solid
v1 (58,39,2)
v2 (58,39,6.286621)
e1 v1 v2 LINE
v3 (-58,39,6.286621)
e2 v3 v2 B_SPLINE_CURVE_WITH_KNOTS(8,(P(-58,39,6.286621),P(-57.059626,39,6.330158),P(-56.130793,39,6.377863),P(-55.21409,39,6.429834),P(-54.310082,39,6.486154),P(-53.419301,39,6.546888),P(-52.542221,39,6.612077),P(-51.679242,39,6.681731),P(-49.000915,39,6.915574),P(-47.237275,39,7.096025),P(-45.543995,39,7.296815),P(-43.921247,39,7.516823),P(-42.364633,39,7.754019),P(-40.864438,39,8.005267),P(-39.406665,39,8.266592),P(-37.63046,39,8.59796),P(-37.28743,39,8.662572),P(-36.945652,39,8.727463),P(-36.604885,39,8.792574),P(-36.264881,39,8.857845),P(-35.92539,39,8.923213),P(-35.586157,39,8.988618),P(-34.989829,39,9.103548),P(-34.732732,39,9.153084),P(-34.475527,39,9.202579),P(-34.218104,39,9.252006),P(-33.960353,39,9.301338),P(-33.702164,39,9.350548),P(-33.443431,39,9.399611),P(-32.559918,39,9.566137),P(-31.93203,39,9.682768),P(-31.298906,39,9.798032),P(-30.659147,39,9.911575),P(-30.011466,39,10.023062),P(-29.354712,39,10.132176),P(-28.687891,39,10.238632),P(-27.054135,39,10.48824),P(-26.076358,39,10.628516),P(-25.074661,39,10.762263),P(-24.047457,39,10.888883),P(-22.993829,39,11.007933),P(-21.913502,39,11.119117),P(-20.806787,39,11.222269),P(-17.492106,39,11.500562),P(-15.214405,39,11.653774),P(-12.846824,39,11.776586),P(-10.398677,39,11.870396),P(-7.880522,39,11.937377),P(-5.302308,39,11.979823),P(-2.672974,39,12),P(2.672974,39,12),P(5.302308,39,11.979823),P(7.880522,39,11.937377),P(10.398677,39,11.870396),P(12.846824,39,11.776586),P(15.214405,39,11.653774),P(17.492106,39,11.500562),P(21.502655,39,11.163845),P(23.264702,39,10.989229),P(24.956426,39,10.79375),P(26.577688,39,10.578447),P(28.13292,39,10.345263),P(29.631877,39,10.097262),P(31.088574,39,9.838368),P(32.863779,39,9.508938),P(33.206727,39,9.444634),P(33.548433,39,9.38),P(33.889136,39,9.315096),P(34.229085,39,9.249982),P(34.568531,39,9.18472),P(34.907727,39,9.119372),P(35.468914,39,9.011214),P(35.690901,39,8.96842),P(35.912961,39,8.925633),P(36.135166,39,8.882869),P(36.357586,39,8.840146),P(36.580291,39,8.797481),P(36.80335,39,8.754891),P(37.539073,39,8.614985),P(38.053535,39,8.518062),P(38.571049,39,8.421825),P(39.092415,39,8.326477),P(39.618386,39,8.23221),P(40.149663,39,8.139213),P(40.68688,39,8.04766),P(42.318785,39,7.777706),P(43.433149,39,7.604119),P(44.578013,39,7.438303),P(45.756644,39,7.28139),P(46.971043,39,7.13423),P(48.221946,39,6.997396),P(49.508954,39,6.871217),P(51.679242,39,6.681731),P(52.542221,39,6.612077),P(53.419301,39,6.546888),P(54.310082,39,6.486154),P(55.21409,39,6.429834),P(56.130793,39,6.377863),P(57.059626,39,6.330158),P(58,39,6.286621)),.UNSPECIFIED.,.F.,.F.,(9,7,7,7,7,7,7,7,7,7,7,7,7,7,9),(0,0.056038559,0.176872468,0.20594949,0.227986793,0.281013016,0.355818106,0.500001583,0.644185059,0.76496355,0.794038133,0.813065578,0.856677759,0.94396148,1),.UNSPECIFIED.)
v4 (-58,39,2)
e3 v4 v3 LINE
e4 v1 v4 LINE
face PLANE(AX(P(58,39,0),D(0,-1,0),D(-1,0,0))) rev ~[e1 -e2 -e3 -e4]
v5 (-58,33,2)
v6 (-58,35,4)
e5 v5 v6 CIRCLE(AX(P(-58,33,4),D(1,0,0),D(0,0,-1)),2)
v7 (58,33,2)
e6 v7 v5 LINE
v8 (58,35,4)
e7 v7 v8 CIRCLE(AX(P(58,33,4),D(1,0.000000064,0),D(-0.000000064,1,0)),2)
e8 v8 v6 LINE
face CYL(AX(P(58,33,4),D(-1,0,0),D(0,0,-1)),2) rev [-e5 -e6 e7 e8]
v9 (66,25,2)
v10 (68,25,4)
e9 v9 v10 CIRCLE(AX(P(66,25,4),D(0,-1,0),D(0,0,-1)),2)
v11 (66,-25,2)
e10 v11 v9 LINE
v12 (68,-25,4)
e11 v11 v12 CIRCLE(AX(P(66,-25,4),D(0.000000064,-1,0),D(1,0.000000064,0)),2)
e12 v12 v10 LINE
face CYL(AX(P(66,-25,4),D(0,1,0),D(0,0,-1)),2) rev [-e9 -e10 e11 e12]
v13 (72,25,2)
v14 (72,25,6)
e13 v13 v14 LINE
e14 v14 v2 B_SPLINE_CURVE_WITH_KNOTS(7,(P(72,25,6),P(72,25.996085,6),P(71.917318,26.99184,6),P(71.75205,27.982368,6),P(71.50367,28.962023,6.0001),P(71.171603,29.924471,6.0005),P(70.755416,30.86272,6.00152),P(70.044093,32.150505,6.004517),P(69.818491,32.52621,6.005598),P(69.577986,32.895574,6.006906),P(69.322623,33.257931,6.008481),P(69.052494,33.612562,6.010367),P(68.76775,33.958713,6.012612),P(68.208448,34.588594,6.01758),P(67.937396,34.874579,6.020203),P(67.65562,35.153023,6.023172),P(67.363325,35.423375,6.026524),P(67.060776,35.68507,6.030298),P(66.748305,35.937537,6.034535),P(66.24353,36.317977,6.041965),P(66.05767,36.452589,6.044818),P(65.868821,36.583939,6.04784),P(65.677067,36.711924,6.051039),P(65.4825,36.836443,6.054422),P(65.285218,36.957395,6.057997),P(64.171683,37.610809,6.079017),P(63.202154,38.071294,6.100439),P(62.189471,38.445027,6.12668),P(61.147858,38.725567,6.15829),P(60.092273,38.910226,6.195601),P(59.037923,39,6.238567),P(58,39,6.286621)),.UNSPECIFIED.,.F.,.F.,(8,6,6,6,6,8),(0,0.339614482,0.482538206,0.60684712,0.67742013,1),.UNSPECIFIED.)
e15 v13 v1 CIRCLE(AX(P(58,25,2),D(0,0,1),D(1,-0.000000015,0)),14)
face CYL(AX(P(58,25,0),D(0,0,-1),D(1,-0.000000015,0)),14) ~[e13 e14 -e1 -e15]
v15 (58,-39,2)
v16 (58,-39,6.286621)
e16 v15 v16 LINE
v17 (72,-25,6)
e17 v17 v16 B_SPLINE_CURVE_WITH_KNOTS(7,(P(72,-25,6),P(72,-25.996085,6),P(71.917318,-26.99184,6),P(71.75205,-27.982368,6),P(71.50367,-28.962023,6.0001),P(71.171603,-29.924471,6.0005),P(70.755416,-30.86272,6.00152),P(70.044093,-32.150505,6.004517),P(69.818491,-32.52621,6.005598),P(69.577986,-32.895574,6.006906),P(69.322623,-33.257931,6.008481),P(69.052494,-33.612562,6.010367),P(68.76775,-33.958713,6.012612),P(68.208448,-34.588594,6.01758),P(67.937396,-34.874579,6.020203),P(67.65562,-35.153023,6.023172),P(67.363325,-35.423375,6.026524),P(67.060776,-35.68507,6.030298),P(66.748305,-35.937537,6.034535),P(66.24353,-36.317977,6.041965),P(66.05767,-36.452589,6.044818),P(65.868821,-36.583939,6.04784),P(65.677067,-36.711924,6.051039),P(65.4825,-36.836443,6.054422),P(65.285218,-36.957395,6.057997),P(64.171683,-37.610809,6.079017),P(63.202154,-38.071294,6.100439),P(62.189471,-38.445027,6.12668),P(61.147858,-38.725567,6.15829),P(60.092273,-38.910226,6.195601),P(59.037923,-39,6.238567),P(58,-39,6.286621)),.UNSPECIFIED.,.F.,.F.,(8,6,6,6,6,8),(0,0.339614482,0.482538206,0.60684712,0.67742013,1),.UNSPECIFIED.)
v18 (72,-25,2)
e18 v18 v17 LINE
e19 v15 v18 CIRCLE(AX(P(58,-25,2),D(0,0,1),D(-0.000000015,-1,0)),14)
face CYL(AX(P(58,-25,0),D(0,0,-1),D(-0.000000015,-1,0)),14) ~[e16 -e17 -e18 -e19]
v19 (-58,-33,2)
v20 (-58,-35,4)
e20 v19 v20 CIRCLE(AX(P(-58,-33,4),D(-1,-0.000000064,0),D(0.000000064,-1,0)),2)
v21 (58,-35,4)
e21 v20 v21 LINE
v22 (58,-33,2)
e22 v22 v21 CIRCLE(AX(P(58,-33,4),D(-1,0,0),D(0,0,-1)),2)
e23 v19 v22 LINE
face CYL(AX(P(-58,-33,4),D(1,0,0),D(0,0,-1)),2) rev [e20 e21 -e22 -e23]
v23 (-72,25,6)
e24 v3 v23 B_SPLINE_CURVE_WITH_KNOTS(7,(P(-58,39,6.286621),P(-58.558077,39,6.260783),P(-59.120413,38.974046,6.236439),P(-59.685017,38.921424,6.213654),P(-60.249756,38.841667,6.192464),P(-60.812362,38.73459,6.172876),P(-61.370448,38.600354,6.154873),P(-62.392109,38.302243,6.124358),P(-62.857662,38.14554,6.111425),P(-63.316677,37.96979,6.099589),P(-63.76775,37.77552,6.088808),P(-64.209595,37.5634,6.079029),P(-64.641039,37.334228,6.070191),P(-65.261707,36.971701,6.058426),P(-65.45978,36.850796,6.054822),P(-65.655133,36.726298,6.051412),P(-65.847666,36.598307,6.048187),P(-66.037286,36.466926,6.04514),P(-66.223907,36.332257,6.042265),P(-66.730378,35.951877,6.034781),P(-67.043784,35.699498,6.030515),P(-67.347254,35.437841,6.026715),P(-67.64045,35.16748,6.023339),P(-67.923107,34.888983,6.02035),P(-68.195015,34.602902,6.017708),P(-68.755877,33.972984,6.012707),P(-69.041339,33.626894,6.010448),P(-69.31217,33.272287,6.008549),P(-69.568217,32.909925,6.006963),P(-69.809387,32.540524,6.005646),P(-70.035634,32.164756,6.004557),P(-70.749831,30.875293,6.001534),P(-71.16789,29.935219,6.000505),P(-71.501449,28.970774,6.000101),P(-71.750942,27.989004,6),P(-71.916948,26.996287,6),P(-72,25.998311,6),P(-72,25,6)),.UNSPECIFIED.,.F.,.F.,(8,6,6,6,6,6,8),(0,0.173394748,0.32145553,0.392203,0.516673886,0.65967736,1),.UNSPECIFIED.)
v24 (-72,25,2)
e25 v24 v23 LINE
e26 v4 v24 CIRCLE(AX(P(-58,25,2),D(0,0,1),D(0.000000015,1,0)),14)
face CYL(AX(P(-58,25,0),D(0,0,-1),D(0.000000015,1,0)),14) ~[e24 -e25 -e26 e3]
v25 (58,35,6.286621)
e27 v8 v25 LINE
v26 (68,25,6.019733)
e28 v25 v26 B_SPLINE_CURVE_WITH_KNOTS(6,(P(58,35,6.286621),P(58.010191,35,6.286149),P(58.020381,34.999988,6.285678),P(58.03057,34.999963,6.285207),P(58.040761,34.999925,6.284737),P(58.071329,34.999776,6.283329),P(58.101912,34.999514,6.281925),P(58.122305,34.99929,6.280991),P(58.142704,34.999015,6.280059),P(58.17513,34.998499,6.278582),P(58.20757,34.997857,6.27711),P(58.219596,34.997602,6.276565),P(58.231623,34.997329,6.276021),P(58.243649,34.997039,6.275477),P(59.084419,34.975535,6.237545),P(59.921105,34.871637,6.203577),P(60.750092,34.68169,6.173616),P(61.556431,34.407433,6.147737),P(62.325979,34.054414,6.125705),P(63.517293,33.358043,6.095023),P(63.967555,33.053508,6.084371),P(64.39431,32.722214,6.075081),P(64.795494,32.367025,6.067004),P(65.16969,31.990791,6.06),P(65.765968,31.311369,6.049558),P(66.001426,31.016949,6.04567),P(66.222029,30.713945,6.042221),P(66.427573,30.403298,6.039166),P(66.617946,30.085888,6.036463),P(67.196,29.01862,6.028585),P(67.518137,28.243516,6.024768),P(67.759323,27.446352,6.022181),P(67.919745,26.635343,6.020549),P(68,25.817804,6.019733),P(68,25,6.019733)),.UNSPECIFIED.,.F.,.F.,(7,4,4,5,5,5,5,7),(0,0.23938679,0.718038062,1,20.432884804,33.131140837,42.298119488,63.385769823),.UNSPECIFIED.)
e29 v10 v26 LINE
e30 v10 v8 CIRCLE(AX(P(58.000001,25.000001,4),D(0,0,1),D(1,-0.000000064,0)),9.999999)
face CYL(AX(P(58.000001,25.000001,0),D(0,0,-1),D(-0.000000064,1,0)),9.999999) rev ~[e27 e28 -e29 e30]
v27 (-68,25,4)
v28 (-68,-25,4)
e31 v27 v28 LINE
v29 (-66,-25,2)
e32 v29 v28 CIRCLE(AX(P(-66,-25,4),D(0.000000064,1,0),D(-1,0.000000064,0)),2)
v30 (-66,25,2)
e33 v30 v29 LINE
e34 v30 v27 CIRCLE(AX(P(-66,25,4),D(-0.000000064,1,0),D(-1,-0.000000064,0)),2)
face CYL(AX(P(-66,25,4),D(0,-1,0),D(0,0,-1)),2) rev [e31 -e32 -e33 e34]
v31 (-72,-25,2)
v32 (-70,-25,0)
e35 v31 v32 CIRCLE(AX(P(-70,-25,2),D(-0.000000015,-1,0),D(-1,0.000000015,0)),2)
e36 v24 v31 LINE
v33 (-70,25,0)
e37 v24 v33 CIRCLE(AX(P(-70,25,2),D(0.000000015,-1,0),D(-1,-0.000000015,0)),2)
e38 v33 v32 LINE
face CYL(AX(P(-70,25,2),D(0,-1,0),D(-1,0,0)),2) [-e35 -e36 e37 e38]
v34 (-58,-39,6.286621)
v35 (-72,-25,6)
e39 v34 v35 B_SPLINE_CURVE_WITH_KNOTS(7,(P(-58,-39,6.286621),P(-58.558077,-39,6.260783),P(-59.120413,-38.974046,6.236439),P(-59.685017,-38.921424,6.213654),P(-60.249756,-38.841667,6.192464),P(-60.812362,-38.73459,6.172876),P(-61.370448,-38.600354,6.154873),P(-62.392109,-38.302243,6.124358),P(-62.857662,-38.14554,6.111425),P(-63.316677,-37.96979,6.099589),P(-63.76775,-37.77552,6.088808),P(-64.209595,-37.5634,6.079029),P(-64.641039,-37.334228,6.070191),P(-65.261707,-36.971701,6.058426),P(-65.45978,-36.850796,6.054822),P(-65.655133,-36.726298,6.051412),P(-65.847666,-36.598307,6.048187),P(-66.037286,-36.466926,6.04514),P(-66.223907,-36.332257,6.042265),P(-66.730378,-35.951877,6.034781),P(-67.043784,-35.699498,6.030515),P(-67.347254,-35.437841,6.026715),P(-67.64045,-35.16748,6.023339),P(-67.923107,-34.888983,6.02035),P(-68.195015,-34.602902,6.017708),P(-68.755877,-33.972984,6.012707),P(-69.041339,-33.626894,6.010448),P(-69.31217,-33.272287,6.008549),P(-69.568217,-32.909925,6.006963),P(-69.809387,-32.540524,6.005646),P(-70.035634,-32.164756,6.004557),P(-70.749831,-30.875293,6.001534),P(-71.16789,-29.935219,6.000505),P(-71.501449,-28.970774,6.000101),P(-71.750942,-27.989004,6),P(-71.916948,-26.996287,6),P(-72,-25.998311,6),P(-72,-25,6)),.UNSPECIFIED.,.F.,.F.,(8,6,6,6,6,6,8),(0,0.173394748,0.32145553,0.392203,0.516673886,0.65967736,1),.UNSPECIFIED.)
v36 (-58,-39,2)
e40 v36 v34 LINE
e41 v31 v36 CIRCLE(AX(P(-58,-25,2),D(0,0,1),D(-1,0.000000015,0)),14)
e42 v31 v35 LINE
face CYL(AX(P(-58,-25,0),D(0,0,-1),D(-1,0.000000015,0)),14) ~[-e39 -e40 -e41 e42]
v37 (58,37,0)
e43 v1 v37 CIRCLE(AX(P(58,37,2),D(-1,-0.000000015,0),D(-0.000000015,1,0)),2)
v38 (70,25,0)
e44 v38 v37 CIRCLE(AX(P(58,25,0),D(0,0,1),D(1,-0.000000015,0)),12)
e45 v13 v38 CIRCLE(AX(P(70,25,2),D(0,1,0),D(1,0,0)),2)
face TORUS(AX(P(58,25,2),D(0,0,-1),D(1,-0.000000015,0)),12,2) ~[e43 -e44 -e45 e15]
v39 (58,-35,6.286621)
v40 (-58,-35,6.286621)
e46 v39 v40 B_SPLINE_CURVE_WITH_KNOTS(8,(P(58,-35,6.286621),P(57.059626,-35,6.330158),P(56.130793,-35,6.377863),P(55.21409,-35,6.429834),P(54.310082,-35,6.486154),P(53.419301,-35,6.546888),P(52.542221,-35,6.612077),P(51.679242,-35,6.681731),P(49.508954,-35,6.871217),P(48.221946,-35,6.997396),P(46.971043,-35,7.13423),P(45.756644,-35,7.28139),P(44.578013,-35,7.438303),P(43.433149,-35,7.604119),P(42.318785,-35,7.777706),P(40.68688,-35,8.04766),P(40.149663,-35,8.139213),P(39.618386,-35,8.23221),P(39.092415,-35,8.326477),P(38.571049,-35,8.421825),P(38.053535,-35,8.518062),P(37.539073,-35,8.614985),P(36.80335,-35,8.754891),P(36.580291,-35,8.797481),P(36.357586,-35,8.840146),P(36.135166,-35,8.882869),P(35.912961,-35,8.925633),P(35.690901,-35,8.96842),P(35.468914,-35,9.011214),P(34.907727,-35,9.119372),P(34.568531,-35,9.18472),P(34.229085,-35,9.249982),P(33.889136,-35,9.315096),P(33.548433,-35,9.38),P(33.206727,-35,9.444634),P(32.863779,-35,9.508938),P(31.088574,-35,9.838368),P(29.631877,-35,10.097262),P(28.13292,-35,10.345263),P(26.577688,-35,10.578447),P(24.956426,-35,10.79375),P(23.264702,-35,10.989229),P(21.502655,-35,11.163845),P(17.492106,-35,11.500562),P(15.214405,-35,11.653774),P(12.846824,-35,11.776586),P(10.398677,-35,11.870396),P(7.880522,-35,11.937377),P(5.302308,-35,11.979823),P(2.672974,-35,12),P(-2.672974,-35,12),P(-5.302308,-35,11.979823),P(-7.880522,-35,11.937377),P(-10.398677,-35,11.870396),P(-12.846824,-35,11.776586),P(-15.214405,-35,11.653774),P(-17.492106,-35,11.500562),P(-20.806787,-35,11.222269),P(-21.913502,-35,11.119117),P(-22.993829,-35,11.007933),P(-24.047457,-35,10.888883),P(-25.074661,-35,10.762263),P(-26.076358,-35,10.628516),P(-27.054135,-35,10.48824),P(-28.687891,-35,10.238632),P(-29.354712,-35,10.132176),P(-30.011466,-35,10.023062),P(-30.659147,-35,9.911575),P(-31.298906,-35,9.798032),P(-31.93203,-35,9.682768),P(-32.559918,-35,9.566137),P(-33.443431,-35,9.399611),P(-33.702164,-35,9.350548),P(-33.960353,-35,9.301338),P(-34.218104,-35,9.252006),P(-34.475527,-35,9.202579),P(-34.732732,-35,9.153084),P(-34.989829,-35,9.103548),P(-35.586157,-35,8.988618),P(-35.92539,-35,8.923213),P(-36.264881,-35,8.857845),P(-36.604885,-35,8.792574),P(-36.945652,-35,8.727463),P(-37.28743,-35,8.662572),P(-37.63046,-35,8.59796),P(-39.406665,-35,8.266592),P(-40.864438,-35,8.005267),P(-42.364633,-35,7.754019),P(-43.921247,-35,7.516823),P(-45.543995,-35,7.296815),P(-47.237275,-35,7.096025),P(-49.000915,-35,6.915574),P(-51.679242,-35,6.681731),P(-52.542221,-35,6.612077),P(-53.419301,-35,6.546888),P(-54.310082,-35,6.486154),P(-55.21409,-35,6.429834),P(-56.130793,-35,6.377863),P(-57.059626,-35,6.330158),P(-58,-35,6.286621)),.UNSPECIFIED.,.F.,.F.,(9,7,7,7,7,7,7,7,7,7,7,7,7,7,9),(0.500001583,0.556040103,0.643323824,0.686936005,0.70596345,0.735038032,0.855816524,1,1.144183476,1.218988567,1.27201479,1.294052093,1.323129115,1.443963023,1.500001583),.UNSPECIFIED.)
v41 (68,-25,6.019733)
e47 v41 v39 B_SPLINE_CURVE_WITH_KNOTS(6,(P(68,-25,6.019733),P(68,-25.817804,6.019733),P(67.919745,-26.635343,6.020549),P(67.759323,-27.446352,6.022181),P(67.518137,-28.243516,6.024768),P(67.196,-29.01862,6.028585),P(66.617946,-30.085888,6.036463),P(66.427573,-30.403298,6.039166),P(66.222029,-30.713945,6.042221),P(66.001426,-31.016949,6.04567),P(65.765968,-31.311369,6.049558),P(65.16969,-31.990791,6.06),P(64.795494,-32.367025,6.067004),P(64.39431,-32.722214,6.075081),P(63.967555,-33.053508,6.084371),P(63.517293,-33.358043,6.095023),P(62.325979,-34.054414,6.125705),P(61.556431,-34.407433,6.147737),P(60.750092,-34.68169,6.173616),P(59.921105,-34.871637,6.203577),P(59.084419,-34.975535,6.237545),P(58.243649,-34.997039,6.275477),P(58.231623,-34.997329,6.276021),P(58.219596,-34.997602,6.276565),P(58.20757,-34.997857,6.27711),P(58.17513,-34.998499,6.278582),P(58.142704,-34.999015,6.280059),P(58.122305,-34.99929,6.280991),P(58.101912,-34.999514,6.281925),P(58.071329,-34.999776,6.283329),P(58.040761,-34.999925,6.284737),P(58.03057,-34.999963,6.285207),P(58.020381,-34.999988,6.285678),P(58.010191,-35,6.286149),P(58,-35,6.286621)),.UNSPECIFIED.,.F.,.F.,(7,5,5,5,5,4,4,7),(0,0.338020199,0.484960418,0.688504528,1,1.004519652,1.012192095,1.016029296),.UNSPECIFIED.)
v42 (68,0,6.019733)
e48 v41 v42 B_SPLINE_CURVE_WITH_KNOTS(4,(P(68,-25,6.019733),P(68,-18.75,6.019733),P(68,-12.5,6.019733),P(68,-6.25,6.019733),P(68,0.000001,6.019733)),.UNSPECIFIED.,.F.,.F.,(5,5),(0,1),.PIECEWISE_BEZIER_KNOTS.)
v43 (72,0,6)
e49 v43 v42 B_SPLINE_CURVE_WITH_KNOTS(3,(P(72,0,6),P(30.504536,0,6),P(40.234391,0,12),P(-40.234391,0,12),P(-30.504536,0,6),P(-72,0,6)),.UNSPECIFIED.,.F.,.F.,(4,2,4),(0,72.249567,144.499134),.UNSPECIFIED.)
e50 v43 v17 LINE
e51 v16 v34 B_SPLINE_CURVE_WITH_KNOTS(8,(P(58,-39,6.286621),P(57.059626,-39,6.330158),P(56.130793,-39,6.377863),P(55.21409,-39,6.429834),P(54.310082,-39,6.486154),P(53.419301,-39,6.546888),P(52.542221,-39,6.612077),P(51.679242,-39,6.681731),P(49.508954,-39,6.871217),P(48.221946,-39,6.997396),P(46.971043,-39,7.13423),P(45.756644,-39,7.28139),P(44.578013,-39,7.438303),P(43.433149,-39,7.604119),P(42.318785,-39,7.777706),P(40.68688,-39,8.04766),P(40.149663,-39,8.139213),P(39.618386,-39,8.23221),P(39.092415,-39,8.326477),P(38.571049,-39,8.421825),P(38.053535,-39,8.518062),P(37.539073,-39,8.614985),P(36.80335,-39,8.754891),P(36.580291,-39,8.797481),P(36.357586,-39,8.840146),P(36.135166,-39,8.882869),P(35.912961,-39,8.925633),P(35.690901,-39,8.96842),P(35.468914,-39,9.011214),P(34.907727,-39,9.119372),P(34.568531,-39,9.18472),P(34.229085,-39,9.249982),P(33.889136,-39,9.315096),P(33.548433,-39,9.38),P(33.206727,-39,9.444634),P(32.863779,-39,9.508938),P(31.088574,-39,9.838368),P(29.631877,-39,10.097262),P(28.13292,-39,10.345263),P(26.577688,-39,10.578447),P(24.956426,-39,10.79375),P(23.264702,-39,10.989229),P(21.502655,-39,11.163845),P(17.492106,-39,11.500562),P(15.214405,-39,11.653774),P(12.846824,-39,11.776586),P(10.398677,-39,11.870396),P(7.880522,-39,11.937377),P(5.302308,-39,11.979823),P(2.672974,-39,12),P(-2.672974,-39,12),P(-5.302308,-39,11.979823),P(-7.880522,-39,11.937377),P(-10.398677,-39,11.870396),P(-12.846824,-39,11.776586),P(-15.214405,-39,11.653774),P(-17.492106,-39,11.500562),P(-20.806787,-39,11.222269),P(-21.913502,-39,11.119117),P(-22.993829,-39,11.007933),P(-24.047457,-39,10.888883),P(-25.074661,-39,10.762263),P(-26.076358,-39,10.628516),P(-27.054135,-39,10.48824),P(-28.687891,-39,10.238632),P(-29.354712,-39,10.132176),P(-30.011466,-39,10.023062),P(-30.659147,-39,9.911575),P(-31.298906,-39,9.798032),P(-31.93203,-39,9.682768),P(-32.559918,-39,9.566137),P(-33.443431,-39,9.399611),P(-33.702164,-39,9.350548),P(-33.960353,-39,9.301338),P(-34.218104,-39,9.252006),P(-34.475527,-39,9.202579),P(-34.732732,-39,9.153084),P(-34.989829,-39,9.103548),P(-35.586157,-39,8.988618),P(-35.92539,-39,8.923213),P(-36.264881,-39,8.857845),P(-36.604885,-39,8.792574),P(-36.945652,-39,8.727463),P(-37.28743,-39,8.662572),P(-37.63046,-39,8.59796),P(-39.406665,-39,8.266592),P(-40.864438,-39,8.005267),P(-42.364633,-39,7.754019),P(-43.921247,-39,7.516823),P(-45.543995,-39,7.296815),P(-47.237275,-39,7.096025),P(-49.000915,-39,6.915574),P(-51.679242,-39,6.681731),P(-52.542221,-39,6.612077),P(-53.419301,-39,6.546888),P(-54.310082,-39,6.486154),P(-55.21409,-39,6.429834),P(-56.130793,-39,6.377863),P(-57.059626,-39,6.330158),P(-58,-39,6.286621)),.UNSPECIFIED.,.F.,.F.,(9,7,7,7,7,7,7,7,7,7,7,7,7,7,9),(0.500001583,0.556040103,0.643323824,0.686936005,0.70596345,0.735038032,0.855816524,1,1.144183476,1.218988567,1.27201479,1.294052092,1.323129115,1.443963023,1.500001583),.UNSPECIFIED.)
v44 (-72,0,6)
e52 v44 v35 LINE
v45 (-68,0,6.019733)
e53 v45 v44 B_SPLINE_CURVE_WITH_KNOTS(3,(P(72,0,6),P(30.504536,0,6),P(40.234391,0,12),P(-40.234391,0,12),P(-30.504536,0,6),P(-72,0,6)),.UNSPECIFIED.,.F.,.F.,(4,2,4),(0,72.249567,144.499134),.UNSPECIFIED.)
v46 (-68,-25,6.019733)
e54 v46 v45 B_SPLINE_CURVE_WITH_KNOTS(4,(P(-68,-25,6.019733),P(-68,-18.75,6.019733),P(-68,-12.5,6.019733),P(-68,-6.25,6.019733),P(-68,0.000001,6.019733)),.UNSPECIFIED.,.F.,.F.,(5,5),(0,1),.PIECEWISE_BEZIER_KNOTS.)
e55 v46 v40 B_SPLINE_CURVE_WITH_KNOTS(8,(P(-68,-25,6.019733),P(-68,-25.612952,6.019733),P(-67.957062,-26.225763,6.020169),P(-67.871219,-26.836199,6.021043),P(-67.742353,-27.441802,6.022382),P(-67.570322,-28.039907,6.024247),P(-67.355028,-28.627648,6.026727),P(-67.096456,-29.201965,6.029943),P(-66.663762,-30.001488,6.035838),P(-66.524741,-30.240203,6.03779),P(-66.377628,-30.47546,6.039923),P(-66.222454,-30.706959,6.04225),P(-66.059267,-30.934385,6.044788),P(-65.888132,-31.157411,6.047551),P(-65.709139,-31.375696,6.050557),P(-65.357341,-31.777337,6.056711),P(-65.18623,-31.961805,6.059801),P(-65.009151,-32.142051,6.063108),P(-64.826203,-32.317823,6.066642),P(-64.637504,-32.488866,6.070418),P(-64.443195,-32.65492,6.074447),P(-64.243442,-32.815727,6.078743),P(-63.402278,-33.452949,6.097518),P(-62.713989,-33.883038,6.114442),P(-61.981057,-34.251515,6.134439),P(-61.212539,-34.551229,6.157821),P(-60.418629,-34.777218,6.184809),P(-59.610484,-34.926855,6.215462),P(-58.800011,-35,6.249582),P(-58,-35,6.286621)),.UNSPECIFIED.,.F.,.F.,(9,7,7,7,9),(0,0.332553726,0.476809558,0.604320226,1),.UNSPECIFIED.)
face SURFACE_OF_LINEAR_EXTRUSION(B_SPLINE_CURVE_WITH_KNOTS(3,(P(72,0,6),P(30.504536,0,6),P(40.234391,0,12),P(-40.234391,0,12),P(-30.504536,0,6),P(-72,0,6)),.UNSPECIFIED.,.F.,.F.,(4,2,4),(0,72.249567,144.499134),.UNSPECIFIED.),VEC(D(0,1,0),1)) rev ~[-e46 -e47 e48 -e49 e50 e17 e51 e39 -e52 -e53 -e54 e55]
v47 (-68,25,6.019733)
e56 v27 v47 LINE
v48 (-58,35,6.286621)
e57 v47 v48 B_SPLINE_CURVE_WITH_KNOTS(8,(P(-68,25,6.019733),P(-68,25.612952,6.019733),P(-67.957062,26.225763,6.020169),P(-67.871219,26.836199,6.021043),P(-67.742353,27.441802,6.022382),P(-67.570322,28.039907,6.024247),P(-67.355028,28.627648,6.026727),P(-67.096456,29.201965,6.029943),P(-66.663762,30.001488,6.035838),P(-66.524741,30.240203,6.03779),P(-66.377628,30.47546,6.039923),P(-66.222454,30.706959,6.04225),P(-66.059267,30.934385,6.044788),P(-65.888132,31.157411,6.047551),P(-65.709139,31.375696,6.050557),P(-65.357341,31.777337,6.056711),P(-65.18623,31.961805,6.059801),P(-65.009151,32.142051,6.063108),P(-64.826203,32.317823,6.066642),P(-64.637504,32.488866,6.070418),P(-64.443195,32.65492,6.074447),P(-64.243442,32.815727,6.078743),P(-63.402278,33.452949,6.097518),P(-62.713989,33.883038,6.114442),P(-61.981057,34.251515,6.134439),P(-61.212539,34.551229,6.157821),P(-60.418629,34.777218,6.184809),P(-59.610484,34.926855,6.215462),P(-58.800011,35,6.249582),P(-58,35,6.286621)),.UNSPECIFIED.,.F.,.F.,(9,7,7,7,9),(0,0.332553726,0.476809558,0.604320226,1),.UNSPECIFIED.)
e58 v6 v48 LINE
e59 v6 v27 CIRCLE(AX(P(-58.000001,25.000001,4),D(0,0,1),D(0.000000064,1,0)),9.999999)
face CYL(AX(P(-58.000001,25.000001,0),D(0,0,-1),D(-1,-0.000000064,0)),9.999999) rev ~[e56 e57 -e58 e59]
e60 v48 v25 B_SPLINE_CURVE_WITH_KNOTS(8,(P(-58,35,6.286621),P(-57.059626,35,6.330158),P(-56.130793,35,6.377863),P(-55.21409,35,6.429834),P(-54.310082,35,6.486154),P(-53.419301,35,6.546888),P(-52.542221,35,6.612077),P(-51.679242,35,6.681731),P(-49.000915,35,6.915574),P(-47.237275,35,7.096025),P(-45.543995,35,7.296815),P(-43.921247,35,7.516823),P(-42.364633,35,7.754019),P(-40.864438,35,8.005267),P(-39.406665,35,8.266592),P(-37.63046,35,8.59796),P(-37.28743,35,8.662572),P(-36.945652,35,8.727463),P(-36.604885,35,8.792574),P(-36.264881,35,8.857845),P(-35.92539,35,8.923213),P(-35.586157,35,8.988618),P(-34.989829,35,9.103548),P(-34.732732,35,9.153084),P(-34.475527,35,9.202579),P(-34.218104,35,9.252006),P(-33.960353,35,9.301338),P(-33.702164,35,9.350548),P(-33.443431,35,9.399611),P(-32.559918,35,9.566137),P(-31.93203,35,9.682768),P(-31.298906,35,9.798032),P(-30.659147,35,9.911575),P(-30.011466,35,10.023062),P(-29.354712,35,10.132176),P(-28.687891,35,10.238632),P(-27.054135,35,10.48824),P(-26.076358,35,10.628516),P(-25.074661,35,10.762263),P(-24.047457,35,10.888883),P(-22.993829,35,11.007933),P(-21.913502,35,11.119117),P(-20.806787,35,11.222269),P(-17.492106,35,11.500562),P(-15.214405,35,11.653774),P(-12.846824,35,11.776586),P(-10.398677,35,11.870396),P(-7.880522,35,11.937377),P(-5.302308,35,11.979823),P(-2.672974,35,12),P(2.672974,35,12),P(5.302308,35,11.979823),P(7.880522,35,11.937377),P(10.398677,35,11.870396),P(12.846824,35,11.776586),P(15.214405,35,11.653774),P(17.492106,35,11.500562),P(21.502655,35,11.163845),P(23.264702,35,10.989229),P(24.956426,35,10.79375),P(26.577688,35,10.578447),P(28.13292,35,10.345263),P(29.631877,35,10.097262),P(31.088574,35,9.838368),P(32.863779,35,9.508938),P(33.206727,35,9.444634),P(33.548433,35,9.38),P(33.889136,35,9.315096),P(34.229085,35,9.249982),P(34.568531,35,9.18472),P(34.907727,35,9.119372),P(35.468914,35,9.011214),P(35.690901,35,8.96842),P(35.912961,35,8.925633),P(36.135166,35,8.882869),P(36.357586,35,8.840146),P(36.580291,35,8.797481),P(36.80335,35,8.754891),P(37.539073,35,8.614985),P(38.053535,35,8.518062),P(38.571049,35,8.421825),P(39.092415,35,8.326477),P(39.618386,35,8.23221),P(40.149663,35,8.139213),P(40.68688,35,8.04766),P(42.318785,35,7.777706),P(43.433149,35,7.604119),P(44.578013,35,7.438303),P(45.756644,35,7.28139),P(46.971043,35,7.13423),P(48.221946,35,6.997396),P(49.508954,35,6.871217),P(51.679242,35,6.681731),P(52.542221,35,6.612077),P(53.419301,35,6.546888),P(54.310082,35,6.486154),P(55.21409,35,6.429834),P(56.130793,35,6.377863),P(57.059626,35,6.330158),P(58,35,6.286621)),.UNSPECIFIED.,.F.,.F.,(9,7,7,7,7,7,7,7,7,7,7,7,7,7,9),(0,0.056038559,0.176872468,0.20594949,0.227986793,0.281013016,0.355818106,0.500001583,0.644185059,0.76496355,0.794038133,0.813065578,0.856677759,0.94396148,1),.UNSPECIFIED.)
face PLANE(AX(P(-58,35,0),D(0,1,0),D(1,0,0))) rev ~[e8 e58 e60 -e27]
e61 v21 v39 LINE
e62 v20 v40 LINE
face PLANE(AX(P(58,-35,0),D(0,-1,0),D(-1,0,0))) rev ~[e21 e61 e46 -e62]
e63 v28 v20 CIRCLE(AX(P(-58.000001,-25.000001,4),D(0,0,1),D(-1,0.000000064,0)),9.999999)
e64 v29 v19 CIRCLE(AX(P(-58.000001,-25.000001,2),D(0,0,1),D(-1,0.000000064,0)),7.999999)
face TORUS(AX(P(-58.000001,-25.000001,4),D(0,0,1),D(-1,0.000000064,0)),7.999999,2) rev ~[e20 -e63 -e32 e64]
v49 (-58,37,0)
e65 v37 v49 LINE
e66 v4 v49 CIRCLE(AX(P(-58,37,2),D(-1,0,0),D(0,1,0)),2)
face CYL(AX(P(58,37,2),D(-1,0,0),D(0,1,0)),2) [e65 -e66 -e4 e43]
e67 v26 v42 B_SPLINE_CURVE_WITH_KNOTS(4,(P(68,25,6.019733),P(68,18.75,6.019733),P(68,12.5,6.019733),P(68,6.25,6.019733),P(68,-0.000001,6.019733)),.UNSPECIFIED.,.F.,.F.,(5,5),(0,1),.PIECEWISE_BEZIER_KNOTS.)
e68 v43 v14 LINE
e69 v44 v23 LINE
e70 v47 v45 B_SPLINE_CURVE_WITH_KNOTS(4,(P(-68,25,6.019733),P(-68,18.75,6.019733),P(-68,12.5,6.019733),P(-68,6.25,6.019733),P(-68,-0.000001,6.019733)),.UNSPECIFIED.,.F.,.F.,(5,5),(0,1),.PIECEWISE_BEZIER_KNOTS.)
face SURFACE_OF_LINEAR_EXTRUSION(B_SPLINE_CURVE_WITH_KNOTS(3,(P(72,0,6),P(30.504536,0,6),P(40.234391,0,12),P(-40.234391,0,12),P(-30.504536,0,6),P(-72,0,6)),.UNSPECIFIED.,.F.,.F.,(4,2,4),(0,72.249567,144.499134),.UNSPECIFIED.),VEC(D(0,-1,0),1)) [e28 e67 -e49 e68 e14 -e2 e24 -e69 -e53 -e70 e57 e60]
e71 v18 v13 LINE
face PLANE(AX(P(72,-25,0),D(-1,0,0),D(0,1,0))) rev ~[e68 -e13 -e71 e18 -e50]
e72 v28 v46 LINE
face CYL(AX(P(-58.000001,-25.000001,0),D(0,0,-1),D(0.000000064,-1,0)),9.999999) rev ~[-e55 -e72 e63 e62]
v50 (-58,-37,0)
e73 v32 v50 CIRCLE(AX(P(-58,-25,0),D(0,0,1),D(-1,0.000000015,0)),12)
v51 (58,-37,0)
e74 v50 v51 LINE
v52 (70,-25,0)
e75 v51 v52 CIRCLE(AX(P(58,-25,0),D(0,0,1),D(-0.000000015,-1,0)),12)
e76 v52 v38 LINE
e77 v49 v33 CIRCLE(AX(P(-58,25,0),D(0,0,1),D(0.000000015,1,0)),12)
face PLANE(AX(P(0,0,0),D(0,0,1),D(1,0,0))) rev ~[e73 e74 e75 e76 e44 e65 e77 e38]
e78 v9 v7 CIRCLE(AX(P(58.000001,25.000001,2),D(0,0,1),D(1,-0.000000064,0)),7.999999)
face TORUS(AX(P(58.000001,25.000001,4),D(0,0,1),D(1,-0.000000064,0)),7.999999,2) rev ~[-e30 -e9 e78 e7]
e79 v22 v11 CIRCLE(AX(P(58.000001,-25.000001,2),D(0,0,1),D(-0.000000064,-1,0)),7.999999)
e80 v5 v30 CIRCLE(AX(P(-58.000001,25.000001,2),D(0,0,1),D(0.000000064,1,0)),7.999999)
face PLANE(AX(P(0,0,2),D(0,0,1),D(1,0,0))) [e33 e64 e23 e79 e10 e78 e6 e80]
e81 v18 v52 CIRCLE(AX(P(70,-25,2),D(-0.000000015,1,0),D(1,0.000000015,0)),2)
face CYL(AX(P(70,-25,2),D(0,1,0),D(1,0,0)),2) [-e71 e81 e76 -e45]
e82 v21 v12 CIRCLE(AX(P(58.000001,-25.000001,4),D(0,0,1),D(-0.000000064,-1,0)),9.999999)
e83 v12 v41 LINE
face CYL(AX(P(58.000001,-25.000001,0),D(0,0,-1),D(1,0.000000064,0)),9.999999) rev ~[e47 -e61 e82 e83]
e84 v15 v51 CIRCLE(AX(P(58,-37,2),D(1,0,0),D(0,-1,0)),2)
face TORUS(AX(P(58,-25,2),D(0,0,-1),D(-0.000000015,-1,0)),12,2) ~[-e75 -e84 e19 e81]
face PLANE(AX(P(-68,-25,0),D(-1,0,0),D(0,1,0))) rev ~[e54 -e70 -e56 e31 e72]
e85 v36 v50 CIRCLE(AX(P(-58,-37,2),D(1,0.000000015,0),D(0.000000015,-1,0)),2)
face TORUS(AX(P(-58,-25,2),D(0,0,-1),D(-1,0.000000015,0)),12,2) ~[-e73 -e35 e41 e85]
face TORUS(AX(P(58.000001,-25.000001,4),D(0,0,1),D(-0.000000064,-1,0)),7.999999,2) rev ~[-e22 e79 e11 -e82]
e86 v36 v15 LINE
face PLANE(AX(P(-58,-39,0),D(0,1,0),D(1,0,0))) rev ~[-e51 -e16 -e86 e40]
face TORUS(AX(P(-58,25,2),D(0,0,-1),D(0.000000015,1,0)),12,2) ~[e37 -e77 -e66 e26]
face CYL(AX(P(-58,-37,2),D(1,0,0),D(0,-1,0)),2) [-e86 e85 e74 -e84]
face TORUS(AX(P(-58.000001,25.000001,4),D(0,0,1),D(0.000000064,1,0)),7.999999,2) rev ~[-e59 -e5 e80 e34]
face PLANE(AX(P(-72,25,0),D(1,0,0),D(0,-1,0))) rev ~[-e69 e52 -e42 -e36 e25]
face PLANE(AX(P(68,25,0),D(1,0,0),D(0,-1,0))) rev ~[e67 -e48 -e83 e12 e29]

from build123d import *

# Parameters (mm, degrees)
F1_DEPTH = 2
F2_DEPTH = 12
F4_DEPTH = 49.5
F5_R     = 2


with BuildPart() as f1:
    # F0 (on Top) → F1 (new body)
    with BuildSketch(Plane.XY):
        with BuildLine():
            ThreePointArc((-68, -25), (-65.071068, -32.071068), (-58, -35))
            Line((-58, -35), (58, -35))
            ThreePointArc((58, -35), (65.071068, -32.071068), (68, -25))
            Line((68, -25), (68, 25))
            ThreePointArc((68, 25), (65.071068, 32.071068), (58, 35))
            Line((58, 35), (-58, 35))
            ThreePointArc((-58, 35), (-65.071068, 32.071068), (-68, 25))
            Line((-68, 25), (-68, -25))
        make_face()
    extrude(amount=F1_DEPTH)

    # F0 (on Top) → F2 (join)
    with BuildSketch(Plane.XY):
        with BuildLine():
            Line((58, 39), (-58, 39))
            ThreePointArc((-58, 39), (-67.899495, 34.899495), (-72, 25))
            Line((-72, 25), (-72, -25))
            ThreePointArc((-72, -25), (-67.899495, -34.899495), (-58, -39))
            Line((-58, -39), (58, -39))
            ThreePointArc((58, -39), (67.899495, -34.899495), (72, -25))
            Line((72, -25), (72, 25))
            ThreePointArc((72, 25), (67.899495, 34.899495), (58, 39))
        make_face()
        with BuildLine():
            Line((58, -35), (-58, -35))
            ThreePointArc((-58, -35), (-65.071068, -32.071068), (-68, -25))
            Line((-68, -25), (-68, 25))
            ThreePointArc((-68, 25), (-65.071068, 32.071068), (-58, 35))
            Line((-58, 35), (58, 35))
            ThreePointArc((58, 35), (65.071068, 32.071068), (68, 25))
            Line((68, 25), (68, -25))
            ThreePointArc((68, -25), (65.071068, -32.071068), (58, -35))
        make_face(mode=Mode.SUBTRACT)
    extrude(amount=F2_DEPTH)

    # F3 (on Front) → F4 (intersect, symmetric)
    with BuildSketch(Plane.XZ):
        with BuildLine():
            Line((-72, 6), (-72, 0))
            Line((-72, 0), (72, 0))
            Line((72, 0), (72, 6))
            add(Edge.make_bspline(
                [(72, 6), (30.504536, 6), (40.234391, 12), (0, 12)],
                knots=[0, 0, 0, 0, 72.249567, 72.249567, 72.249567, 72.249567], degree=3))
            add(Edge.make_bspline(
                [(-72, 6), (-30.504536, 6), (-40.234391, 12), (0, 12)],
                knots=[0, 0, 0, 0, 72.249567, 72.249567, 72.249567, 72.249567], degree=3))
        make_face()
    extrude(amount=F4_DEPTH, both=True, mode=Mode.INTERSECT)

    # F5
    f5_edges = [f1.edges().sort_by_distance(p)[0] for p in [
        (-65.071068, -32.071068, 2),
        (65.071068, -32.071068, 2),
        (-67.899495, -34.899495, 0),
    ]]
    fillet(f5_edges, radius=F5_R)


solid = f1.part
